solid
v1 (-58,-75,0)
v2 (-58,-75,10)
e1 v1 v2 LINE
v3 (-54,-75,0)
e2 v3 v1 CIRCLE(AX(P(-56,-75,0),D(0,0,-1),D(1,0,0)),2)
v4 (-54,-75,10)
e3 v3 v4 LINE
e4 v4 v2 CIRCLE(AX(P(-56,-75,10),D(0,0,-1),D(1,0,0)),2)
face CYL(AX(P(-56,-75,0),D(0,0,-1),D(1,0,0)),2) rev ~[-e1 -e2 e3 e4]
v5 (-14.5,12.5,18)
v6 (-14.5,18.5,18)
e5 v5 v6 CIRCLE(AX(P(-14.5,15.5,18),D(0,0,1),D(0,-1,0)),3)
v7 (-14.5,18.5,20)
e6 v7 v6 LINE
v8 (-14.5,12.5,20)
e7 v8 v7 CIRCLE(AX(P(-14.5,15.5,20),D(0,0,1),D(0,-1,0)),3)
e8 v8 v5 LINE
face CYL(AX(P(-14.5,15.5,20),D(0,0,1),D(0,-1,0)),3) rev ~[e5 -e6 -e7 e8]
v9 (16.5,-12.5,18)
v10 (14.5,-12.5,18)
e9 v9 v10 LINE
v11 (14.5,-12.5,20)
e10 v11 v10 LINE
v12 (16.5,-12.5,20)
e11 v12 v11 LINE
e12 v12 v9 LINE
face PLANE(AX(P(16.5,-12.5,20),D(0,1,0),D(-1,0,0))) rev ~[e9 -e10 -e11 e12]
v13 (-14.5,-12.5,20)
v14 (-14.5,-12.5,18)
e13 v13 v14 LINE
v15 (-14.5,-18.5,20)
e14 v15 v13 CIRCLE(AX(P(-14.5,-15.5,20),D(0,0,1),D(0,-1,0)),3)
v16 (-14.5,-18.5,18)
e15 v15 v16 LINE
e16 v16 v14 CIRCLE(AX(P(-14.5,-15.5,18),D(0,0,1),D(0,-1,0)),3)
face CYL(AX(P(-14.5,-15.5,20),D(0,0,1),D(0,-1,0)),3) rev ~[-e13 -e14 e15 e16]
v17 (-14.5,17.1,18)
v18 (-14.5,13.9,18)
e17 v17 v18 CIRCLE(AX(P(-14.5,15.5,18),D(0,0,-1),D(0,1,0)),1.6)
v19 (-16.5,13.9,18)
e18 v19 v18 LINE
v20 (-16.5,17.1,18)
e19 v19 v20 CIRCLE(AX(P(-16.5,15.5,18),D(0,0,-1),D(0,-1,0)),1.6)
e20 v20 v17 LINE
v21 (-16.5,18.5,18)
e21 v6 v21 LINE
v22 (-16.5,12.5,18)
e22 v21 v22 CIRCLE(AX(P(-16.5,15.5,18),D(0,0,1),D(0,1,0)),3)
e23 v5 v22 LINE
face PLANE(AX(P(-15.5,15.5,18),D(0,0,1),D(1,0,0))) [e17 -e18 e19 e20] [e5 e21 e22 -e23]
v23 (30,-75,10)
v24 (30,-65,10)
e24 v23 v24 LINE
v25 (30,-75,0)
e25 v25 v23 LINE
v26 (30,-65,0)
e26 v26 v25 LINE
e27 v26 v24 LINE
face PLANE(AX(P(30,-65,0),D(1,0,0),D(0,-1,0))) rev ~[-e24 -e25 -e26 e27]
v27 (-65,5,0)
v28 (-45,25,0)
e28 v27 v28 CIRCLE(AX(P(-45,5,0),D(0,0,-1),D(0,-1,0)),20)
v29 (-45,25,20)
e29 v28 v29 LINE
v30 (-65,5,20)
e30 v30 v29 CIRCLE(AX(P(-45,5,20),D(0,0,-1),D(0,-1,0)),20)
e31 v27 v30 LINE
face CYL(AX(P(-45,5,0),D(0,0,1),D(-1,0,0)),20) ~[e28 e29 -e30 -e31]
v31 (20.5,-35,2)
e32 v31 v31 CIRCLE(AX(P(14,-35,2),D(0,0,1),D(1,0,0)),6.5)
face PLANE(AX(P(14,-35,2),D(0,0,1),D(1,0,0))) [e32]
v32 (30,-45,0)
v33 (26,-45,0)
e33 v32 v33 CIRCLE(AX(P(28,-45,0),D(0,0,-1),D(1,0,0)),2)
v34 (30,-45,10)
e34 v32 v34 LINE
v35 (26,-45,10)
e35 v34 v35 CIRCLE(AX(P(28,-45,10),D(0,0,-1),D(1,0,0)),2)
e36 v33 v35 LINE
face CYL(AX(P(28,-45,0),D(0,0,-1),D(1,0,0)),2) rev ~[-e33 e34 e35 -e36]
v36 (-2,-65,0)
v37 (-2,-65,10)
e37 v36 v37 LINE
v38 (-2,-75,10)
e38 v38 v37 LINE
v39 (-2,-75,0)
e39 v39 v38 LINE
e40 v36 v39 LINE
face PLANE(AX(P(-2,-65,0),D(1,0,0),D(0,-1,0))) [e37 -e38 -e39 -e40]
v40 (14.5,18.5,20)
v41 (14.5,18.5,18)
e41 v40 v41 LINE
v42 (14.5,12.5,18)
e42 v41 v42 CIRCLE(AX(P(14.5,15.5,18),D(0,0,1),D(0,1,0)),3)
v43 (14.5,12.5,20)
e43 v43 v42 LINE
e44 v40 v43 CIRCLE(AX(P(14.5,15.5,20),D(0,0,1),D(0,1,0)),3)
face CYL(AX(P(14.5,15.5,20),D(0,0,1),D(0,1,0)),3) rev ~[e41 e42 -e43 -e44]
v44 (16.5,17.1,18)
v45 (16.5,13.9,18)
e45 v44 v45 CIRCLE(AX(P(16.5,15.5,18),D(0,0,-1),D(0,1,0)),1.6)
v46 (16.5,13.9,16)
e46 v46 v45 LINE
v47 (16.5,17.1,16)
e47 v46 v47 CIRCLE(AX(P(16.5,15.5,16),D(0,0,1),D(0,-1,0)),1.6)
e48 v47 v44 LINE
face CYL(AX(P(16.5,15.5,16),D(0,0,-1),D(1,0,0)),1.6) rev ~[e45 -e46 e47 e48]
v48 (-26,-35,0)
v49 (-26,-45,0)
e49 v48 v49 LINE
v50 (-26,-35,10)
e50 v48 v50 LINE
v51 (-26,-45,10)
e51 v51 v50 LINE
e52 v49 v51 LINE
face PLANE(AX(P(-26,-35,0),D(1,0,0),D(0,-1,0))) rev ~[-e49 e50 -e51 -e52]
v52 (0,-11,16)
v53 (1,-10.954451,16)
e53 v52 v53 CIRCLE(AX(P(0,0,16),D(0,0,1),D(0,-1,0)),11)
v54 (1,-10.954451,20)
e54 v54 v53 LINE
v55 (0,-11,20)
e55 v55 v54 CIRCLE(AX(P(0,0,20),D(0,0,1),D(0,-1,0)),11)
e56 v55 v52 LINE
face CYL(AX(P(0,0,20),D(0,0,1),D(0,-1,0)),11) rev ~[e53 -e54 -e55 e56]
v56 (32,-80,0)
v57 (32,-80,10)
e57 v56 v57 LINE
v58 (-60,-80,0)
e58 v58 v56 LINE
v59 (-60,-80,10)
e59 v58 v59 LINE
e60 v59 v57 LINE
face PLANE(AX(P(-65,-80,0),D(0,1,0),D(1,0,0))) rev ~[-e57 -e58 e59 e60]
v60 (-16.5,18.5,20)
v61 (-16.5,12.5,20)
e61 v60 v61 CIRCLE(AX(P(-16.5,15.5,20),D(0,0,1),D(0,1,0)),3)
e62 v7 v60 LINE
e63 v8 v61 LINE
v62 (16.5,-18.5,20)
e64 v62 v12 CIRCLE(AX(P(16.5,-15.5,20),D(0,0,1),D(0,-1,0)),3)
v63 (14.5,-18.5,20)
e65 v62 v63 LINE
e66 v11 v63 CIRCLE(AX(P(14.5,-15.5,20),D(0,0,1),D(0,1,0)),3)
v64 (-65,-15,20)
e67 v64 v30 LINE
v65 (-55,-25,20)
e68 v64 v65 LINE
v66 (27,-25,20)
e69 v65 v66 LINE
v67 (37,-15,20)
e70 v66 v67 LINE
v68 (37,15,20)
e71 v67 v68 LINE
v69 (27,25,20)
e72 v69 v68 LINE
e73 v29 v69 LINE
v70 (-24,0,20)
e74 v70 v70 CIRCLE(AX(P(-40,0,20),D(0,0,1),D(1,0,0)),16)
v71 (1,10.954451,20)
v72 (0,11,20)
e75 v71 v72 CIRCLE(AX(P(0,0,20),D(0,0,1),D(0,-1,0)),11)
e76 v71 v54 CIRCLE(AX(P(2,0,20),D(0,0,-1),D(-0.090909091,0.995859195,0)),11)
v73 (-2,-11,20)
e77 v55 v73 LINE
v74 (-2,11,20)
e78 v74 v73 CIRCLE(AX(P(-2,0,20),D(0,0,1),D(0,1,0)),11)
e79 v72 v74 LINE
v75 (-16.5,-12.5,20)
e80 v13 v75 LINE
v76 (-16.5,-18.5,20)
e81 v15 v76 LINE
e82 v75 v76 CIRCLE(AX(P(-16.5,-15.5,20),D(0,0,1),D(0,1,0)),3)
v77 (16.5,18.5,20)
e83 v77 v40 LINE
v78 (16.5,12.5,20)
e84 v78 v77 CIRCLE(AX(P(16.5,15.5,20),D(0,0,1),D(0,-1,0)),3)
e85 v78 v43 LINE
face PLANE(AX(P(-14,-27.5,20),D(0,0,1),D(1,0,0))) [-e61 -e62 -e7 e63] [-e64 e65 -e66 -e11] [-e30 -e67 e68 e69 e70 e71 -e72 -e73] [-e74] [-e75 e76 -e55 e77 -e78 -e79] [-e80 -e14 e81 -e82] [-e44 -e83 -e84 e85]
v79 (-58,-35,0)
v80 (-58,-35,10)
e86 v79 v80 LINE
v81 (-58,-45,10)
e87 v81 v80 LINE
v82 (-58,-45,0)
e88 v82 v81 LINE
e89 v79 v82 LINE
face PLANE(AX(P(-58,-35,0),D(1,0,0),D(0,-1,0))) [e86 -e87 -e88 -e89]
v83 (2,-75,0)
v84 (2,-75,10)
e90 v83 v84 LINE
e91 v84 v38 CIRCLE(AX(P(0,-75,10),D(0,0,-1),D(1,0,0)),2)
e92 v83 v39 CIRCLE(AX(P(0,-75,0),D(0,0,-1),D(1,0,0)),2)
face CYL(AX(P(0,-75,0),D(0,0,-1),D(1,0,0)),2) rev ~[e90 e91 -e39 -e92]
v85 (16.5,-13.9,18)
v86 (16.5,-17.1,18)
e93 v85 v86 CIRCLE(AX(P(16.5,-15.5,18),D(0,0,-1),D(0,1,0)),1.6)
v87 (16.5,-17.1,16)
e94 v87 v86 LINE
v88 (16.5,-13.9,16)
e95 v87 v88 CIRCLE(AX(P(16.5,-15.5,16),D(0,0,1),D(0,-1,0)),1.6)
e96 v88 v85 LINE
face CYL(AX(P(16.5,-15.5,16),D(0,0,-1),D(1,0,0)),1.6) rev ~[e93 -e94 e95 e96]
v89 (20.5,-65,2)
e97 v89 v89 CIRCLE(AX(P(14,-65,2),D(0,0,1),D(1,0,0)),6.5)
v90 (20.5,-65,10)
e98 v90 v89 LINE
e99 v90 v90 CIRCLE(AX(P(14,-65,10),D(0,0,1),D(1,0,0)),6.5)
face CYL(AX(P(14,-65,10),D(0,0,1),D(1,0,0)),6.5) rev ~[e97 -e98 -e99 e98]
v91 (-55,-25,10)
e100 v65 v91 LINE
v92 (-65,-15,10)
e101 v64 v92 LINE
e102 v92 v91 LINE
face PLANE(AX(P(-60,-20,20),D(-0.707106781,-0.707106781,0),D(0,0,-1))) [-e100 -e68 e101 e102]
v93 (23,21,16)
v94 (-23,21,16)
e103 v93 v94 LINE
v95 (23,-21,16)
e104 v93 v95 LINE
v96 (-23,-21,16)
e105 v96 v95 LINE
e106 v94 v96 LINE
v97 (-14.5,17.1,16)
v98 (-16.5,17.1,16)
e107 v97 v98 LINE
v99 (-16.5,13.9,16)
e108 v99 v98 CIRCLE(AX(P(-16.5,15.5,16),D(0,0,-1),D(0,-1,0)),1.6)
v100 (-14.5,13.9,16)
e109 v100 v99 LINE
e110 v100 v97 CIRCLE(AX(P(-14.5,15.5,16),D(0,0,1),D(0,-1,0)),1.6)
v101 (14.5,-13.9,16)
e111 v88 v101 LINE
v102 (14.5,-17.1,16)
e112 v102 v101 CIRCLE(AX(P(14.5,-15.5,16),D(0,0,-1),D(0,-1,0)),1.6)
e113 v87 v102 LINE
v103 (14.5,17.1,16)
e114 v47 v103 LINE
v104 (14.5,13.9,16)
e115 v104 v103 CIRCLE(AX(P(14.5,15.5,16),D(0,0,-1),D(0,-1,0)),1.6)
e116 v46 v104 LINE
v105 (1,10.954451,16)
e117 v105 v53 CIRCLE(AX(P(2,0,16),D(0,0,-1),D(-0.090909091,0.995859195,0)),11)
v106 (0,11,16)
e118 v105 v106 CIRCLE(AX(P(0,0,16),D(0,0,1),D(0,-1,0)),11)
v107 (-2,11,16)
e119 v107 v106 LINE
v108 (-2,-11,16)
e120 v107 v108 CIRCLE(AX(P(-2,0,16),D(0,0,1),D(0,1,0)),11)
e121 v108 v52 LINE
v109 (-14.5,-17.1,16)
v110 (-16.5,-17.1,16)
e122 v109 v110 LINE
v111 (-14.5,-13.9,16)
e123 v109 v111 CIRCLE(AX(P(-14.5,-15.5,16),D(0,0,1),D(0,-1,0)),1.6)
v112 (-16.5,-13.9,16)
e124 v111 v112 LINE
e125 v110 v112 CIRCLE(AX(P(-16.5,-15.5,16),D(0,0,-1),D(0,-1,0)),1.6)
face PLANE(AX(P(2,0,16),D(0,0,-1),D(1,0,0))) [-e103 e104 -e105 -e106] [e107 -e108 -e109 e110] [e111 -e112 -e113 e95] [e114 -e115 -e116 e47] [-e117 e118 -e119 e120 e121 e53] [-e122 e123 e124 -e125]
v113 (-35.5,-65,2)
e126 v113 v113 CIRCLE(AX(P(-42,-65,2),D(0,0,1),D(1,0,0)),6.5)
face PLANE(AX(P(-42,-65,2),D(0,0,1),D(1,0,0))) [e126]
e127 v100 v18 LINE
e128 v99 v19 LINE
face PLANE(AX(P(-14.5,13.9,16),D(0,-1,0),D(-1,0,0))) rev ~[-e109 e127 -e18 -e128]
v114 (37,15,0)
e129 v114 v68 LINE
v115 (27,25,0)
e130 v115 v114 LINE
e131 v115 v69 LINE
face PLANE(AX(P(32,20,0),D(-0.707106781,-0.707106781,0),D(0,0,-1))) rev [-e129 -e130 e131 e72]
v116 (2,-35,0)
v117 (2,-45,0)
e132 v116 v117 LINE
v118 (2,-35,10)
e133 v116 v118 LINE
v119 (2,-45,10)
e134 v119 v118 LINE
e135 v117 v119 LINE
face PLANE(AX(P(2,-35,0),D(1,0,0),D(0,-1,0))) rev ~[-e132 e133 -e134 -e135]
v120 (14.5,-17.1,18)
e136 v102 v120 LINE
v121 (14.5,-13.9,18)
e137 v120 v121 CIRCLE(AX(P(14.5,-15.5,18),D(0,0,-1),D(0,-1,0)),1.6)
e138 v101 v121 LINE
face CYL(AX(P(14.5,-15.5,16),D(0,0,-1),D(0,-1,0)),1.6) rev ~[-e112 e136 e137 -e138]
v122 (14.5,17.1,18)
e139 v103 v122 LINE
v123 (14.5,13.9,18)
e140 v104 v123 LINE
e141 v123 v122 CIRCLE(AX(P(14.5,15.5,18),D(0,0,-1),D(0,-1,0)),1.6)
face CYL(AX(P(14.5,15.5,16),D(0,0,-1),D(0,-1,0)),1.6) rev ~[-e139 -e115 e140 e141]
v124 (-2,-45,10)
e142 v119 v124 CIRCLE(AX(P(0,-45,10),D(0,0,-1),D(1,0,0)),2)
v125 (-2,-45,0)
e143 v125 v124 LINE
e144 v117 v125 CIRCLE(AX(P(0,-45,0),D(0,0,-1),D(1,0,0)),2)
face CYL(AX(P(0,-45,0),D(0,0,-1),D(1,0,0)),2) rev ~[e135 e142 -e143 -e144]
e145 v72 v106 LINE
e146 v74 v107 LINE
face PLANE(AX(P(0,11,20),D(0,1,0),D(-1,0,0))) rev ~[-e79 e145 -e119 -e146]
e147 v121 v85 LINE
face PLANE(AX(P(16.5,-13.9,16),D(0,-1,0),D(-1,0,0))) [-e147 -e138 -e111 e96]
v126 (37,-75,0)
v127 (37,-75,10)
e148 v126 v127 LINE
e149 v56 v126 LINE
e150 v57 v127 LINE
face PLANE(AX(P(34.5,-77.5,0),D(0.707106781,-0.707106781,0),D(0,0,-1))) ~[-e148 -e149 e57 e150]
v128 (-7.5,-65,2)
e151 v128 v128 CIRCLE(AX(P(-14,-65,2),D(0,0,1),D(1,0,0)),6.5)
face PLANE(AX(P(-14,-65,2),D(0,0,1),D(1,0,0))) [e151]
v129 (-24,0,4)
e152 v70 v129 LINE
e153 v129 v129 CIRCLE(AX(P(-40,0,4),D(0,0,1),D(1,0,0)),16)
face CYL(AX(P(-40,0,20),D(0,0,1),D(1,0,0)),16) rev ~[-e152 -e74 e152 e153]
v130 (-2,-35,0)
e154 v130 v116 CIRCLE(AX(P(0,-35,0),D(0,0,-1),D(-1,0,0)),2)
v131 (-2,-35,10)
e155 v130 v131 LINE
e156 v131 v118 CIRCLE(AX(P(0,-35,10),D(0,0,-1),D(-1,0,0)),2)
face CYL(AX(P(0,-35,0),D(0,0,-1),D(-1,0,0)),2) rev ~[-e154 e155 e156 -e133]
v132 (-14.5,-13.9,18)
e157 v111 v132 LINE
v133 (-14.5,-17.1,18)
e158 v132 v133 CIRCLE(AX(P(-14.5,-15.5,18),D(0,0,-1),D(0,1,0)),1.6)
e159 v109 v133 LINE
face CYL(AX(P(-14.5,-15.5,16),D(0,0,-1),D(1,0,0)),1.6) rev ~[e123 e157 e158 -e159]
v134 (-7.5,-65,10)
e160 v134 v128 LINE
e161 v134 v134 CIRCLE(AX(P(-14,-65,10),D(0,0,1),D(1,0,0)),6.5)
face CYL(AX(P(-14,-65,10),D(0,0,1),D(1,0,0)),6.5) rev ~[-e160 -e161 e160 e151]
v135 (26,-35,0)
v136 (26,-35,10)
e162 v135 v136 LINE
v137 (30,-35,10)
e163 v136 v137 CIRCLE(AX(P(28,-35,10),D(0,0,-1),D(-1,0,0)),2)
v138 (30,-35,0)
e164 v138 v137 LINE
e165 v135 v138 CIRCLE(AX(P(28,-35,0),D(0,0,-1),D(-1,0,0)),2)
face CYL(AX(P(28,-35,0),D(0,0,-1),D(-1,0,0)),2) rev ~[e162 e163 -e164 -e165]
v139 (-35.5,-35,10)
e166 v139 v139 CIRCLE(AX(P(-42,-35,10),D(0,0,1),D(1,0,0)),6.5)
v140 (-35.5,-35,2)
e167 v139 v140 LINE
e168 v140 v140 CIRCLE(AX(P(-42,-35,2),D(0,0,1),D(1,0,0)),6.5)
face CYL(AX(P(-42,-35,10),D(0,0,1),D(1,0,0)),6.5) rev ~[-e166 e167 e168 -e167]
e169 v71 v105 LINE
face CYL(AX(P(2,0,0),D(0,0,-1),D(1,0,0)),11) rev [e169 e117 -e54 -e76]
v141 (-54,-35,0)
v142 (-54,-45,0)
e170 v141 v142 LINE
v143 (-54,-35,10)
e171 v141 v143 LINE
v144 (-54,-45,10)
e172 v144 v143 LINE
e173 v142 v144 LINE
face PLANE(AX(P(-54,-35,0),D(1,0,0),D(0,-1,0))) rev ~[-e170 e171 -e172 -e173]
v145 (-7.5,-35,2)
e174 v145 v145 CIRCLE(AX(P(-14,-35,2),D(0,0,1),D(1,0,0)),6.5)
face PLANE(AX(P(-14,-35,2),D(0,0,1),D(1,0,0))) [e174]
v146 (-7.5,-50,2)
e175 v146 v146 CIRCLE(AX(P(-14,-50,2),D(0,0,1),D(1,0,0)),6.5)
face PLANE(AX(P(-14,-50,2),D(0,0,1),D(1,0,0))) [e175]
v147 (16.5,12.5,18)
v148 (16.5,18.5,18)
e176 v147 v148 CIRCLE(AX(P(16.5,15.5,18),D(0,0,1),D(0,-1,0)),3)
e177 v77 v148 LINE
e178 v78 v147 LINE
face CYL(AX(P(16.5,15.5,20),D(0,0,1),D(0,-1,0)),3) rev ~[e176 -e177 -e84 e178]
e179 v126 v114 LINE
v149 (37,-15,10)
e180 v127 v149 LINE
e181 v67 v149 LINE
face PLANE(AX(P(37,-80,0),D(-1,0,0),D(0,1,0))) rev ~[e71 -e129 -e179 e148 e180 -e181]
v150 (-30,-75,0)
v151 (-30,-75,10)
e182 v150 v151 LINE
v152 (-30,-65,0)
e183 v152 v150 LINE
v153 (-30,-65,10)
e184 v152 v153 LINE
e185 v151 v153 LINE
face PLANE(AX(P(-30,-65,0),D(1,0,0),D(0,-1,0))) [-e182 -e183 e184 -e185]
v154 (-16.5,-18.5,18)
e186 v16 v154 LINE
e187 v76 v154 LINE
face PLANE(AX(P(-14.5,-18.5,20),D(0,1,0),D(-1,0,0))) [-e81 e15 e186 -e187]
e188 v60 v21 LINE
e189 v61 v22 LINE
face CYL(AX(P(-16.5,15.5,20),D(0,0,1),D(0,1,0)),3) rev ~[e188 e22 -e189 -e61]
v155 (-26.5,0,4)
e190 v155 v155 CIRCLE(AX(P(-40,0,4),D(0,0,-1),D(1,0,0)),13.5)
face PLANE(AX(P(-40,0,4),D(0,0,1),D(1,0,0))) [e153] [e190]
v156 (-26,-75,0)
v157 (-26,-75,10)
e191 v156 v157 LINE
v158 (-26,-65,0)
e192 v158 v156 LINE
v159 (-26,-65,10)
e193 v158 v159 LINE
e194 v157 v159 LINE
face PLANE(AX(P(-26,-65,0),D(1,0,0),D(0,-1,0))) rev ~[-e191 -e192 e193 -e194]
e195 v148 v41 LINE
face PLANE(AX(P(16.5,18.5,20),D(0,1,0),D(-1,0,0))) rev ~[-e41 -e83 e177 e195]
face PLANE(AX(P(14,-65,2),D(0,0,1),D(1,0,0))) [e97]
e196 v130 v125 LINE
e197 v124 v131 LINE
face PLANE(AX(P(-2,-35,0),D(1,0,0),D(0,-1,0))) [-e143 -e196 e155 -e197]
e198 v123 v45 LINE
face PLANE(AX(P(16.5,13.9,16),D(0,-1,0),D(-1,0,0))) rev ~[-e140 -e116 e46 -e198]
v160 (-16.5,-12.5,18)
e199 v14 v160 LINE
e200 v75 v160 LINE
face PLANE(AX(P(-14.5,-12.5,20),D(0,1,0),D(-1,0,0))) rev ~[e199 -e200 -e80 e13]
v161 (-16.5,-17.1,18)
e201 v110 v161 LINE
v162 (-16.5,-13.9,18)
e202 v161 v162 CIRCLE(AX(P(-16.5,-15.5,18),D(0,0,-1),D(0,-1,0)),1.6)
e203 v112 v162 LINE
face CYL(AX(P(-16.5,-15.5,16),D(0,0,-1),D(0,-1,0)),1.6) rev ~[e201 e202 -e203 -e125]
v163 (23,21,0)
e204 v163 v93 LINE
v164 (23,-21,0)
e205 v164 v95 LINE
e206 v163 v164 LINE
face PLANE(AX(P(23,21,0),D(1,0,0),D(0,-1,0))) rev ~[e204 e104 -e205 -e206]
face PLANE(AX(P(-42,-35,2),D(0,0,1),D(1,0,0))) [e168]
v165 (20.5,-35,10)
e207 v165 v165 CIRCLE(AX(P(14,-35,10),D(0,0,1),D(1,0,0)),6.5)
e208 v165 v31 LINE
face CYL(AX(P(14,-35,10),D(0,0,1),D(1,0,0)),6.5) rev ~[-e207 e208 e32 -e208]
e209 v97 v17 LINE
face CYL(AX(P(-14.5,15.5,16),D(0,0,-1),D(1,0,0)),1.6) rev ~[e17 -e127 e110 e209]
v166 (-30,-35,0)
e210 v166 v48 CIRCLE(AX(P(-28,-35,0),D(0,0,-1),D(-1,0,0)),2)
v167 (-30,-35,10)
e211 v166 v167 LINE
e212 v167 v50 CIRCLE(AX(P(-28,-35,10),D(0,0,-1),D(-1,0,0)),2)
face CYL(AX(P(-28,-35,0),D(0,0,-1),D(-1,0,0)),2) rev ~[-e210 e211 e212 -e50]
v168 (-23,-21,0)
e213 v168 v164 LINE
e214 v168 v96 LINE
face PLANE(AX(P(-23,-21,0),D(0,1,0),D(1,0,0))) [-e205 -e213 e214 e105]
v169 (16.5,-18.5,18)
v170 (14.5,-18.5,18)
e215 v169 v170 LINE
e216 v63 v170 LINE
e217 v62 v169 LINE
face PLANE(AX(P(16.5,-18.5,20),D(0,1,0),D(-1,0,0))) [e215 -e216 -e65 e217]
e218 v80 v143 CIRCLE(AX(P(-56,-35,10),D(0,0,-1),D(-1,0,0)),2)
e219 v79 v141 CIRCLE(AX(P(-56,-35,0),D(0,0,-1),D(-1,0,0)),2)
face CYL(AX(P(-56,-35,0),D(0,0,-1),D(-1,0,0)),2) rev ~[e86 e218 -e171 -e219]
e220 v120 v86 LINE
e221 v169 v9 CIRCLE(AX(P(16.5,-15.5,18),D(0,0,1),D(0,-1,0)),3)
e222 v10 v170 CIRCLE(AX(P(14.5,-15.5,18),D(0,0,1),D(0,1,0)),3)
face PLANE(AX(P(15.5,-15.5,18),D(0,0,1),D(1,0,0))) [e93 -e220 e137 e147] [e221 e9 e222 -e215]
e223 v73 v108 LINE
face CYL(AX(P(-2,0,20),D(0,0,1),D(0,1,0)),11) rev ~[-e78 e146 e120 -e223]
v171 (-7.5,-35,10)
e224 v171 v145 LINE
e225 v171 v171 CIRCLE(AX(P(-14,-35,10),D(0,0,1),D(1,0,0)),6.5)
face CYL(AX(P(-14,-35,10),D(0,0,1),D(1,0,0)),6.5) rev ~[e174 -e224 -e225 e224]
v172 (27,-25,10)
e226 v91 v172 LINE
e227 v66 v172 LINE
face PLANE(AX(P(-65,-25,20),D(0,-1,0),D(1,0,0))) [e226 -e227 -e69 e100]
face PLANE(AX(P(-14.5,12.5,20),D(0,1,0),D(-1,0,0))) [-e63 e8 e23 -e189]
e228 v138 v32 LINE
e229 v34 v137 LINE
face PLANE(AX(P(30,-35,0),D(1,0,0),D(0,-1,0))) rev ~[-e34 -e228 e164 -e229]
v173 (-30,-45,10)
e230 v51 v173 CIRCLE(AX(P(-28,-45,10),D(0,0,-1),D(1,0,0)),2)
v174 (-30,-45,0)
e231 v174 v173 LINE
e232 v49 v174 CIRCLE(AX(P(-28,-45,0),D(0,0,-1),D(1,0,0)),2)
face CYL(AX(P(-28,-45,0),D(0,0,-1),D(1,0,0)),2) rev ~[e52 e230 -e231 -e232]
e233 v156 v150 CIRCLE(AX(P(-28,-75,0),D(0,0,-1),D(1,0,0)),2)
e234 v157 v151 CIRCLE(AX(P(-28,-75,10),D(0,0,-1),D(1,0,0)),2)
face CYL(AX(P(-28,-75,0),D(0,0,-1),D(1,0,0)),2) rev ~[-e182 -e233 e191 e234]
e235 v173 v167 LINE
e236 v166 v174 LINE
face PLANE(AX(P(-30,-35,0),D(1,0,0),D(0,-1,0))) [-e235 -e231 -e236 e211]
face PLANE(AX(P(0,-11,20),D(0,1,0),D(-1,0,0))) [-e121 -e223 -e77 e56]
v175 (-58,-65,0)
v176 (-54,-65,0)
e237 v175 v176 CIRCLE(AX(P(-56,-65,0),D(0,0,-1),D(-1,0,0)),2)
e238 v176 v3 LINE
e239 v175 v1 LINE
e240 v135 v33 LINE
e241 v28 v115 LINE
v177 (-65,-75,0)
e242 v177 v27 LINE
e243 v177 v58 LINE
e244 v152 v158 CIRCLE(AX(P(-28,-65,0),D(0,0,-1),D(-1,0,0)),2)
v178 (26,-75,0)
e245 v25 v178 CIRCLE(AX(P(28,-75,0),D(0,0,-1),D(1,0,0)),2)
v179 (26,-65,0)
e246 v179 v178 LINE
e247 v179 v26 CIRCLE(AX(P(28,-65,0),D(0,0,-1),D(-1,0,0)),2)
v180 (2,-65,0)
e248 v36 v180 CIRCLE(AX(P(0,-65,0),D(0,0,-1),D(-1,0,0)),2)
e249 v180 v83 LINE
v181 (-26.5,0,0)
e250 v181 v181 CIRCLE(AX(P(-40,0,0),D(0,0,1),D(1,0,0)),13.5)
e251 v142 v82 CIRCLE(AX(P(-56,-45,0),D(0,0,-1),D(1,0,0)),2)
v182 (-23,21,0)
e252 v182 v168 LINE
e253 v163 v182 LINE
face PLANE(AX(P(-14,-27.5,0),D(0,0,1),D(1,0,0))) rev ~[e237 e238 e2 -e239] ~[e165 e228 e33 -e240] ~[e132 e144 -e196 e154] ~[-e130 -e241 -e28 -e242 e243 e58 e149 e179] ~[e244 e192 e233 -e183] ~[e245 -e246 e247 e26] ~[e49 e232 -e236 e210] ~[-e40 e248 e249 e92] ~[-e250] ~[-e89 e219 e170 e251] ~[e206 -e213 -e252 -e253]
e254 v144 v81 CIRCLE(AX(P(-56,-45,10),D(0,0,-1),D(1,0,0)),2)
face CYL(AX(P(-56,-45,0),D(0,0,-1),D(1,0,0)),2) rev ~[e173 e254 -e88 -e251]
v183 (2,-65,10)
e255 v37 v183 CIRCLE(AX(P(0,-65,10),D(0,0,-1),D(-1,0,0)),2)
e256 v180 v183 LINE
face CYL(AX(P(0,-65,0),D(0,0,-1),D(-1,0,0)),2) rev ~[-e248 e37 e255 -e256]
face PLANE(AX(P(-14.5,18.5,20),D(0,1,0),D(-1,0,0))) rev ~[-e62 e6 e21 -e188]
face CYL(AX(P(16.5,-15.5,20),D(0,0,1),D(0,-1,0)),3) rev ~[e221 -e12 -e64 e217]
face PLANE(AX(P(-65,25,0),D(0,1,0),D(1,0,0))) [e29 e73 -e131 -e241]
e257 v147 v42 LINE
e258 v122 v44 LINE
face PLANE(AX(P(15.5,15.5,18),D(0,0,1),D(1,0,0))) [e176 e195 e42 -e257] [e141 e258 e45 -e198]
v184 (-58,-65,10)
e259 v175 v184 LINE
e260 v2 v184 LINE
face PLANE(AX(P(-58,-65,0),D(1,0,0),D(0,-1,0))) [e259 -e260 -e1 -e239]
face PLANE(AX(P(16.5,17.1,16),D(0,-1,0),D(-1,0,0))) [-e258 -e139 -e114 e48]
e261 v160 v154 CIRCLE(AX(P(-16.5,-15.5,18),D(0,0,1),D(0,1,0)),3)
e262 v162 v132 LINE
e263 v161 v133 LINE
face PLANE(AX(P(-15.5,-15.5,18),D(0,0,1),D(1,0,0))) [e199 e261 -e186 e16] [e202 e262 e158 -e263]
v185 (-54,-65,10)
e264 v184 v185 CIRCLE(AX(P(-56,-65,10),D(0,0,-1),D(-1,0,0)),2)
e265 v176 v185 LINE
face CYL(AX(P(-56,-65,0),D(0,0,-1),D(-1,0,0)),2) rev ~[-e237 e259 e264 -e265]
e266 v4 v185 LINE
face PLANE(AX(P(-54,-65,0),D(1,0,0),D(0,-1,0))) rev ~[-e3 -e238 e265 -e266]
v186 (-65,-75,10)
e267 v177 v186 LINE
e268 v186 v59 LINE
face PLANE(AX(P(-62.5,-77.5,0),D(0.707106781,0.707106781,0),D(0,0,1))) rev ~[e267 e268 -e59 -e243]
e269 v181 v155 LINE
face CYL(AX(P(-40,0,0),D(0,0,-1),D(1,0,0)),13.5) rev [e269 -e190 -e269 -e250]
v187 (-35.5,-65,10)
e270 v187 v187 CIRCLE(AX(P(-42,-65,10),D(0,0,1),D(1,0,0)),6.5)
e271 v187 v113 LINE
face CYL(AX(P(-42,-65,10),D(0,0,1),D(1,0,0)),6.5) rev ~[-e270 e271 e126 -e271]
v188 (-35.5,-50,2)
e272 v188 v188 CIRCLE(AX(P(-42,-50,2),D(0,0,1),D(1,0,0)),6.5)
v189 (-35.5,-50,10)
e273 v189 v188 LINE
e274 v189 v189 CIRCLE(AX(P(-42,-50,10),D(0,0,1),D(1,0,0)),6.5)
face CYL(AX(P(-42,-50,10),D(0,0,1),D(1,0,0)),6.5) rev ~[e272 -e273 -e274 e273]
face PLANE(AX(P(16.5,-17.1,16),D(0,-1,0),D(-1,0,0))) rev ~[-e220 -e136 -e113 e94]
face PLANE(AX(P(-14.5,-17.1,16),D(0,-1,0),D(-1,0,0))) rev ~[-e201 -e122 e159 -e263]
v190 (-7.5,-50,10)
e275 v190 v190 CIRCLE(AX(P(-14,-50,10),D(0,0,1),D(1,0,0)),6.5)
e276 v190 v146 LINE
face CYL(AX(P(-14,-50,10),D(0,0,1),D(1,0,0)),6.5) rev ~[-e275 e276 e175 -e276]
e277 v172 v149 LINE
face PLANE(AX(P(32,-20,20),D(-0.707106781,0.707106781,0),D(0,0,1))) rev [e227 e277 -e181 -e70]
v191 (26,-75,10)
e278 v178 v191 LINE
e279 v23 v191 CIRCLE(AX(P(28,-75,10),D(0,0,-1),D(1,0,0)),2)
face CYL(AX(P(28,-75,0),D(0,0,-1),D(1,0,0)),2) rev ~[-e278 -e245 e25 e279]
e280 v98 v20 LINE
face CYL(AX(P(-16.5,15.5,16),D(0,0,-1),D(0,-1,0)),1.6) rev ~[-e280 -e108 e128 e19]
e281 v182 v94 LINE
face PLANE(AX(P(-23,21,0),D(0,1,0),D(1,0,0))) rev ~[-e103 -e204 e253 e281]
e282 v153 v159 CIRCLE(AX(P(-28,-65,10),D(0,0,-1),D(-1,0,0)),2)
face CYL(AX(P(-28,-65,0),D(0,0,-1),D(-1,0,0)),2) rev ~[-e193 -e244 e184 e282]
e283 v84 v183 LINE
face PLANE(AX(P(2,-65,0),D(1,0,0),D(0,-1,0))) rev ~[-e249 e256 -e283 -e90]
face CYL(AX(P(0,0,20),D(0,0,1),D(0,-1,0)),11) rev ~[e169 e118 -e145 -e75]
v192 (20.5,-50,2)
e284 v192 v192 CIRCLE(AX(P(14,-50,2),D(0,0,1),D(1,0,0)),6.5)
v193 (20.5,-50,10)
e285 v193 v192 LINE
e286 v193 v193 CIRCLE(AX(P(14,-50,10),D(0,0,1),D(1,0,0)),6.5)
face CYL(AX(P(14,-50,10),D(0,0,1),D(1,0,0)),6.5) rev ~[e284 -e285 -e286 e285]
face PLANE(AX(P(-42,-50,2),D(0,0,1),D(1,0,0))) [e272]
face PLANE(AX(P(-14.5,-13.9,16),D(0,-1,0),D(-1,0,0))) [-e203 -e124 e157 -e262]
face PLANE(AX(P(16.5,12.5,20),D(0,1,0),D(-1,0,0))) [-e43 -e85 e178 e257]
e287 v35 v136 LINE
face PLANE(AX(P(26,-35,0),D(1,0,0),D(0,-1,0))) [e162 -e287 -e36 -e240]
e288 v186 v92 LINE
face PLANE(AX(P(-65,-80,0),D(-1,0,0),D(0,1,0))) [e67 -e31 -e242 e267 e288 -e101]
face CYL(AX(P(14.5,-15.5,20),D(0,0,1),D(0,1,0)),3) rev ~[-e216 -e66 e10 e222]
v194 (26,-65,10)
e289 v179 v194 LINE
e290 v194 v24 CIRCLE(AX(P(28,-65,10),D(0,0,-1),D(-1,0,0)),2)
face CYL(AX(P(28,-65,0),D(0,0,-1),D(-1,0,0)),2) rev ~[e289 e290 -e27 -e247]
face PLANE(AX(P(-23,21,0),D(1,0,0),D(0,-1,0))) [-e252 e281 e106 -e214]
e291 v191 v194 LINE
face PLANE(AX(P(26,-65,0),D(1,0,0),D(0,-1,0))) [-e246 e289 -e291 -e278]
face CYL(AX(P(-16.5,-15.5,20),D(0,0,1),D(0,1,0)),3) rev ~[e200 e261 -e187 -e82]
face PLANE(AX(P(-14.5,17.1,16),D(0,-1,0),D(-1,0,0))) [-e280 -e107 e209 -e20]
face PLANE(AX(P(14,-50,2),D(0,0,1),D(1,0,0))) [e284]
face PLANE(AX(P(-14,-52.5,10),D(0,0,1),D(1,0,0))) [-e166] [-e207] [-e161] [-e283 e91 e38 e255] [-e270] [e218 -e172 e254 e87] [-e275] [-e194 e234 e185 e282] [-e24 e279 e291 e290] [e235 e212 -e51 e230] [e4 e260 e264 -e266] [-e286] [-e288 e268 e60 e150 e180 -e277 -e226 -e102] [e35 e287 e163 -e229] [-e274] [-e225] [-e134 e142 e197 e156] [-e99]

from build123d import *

# Parameters (mm, degrees)
SKETCH071_W                        = 102
SKETCH071_H                        = 105
SKETCH071_R                        = 11
SKETCH071_R_2                      = 13.5
PAD028_DEPTH                       = 20
SKETCH072_W                        = 102
SKETCH072_H                        = 55
POCKET037_DEPTH                    = 10
SKETCH073_W                        = 42
SKETCH073_H                        = 42
POCKET038_DEPTH                    = 16
POCKET039_DEPTH                    = 315.493809
POCKET039_LINEARPATTERN002_2_DEPTH = 315.493809
POCKET039_LINEARPATTERN002_3_DEPTH = 315.493809
POCKET039_LINEARPATTERN002_4_DEPTH = 315.493809
LINEARPATTERN003_COUNT             = 2
LINEARPATTERN003_PITCH             = 30
SKETCH075_R                        = 1.6
POCKET040_DEPTH                    = 4.001
CHAMFER006_SIZE                    = 5
CHAMFER007_SIZE                    = 10
FILLET004_R                        = 20
SKETCH076_R                        = 16
POCKET041_DEPTH                    = 16
SKETCH077_R                        = 3
POCKET042_DEPTH                    = 2
POCKET043_DEPTH                    = 4.001
SKETCH079_W                        = 4
SKETCH079_H                        = 42
POCKET044_DEPTH                    = 16
POCKET045_DEPTH                    = 2
POCKET046_DEPTH                    = 20.001
SKETCH082_R                        = 6.5
POCKET047_DEPTH                    = 8
SKETCH082_LINEARPATTERN004_2_R     = 6.5
POCKET047_LINEARPATTERN004_2_DEPTH = 8
SKETCH082_LINEARPATTERN004_3_R     = 6.5
POCKET047_LINEARPATTERN004_3_DEPTH = 8
LINEARPATTERN005_COUNT             = 3
LINEARPATTERN005_PITCH             = 15


with BuildPart() as part:
    # Sketch071 → Pad028 (new body)
    with BuildSketch(Plane.XY):
        with Locations((-14, -27.5)):
            Rectangle(SKETCH071_W, SKETCH071_H)
        with Locations((2, 0)):
            Circle(SKETCH071_R, mode=Mode.SUBTRACT)
        with Locations((-40, 0)):
            Circle(SKETCH071_R_2, mode=Mode.SUBTRACT)
    extrude(amount=PAD028_DEPTH)

    # Sketch072 (on Face8 of Pad028) → Pocket037 (cut)
    with BuildSketch(Plane.XY.offset(20)):
        with Locations((-14, -52.5)):
            Rectangle(SKETCH072_W, SKETCH072_H)
    extrude(amount=-POCKET037_DEPTH, mode=Mode.SUBTRACT)

    # Sketch073 (on Face2 of Pocket037) → Pocket038 (cut)
    with BuildSketch(Plane(origin=(0, 0, 0), x_dir=(1, 0, 0), z_dir=(0, 0, -1))):
        with Locations((2, 0)):
            Rectangle(SKETCH073_W, SKETCH073_H)
    extrude(amount=-POCKET038_DEPTH, mode=Mode.SUBTRACT)

    # Sketch074 (on Face2 of Pocket038) → Pocket039 (cut, through all)
    with BuildSketch(Plane(origin=(0, 0, 0), x_dir=(1, 0, 0), z_dir=(0, 0, -1))):
        with BuildLine():
            ThreePointArc((26, 35), (28, 33), (30, 35))
            Line((30, 35), (30, 45))
            ThreePointArc((30, 45), (28, 47), (26, 45))
            Line((26, 35), (26, 45))
        make_face()
    pocket039 = extrude(amount=-POCKET039_DEPTH, mode=Mode.SUBTRACT)

    # Sketch074 LinearPattern002 2 → Pocket039 LinearPattern002 2 (cut, through all)
    with BuildSketch(Plane(origin=(-28, 0, 0), x_dir=(1, 0, 0), z_dir=(0, 0, -1))):
        with BuildLine():
            ThreePointArc((26, 35), (28, 33), (30, 35))
            Line((30, 35), (30, 45))
            ThreePointArc((30, 45), (28, 47), (26, 45))
            Line((26, 35), (26, 45))
        make_face()
    pocket039_linearpattern002_2 = extrude(amount=-POCKET039_LINEARPATTERN002_2_DEPTH, mode=Mode.SUBTRACT)

    # Sketch074 LinearPattern002 3 → Pocket039 LinearPattern002 3 (cut, through all)
    with BuildSketch(Plane(origin=(-56, 0, 0), x_dir=(1, 0, 0), z_dir=(0, 0, -1))):
        with BuildLine():
            ThreePointArc((26, 35), (28, 33), (30, 35))
            Line((30, 35), (30, 45))
            ThreePointArc((30, 45), (28, 47), (26, 45))
            Line((26, 35), (26, 45))
        make_face()
    pocket039_linearpattern002_3 = extrude(amount=-POCKET039_LINEARPATTERN002_3_DEPTH, mode=Mode.SUBTRACT)

    # Sketch074 LinearPattern002 4 → Pocket039 LinearPattern002 4 (cut, through all)
    with BuildSketch(Plane(origin=(-84, 0, 0), x_dir=(1, 0, 0), z_dir=(0, 0, -1))):
        with BuildLine():
            ThreePointArc((26, 35), (28, 33), (30, 35))
            Line((30, 35), (30, 45))
            ThreePointArc((30, 45), (28, 47), (26, 45))
            Line((26, 35), (26, 45))
        make_face()
    pocket039_linearpattern002_4 = extrude(amount=-POCKET039_LINEARPATTERN002_4_DEPTH, mode=Mode.SUBTRACT)

    # LinearPattern003: Pocket039, Pocket039 LinearPattern002 2, Pocket039 LinearPattern002 3, Pocket039 LinearPattern002 4 ×2
    with Locations(*[(0, -i * LINEARPATTERN003_PITCH, 0) for i in range(1, LINEARPATTERN003_COUNT)]):
        add(pocket039, mode=Mode.SUBTRACT)
        add(pocket039_linearpattern002_2, mode=Mode.SUBTRACT)
        add(pocket039_linearpattern002_3, mode=Mode.SUBTRACT)
        add(pocket039_linearpattern002_4, mode=Mode.SUBTRACT)

    # Sketch075 (on Face46 of MultiTransform002) → Pocket040 (cut, through all)
    with BuildSketch(Plane(origin=(0, 0, 16), x_dir=(1, 0, 0), z_dir=(0, 0, -1))):
        with Locations((16.5, 15.5)):
            Circle(SKETCH075_R)
        with Locations((16.5, -15.5)):
            Circle(SKETCH075_R)
        with Locations((-14.5, -15.5)):
            Circle(SKETCH075_R)
        with Locations((-14.5, 15.5)):
            Circle(SKETCH075_R)
    extrude(amount=-POCKET040_DEPTH, mode=Mode.SUBTRACT)

    # Chamfer006
    chamfer006_edges = [part.edges().sort_by_distance(p)[0] for p in [
        (-65, -80, 5),
        (37, -80, 5),
    ]]
    chamfer(chamfer006_edges, length=CHAMFER006_SIZE)

    # Chamfer007
    chamfer007_edges = [part.edges().sort_by_distance(p)[0] for p in [
        (37, -25, 15),
        (37, 25, 10),
        (-65, -25, 15),
    ]]
    chamfer(chamfer007_edges, length=CHAMFER007_SIZE)

    # Fillet004
    fillet004_edges = [part.edges().sort_by_distance(p)[0] for p in [
        (-65, 25, 10),
    ]]
    fillet(fillet004_edges, radius=FILLET004_R)

    # Sketch076 (on Face47 of Fillet004) → Pocket041 (cut)
    with BuildSketch(Plane.XY.offset(20)):
        with Locations((-40, 0)):
            Circle(SKETCH076_R)
    extrude(amount=-POCKET041_DEPTH, mode=Mode.SUBTRACT)

    # Sketch077 (on Face47 of Pocket041) → Pocket042 (cut)
    with BuildSketch(Plane.XY.offset(20)):
        with Locations((16.5, 15.5)):
            Circle(SKETCH077_R)
        with Locations((-14.5, 15.5)):
            Circle(SKETCH077_R)
        with Locations((-14.5, -15.5)):
            Circle(SKETCH077_R)
        with Locations((16.5, -15.5)):
            Circle(SKETCH077_R)
    extrude(amount=-POCKET042_DEPTH, mode=Mode.SUBTRACT)

    # Sketch078 (on Face52 of Pocket042) → Pocket043 (cut, through all)
    with BuildSketch(Plane(origin=(0, 0, 16), x_dir=(1, 0, 0), z_dir=(0, 0, -1))):
        with BuildLine():
            ThreePointArc((-14.5, -17.1), (-12.9, -15.5), (-14.5, -13.9))
            Line((-14.5, -13.9), (-16.5, -13.9))
            ThreePointArc((-16.5, -13.9), (-18.1, -15.5), (-16.5, -17.1))
            Line((-14.5, -17.1), (-16.5, -17.1))
        make_face()
        with BuildLine():
            ThreePointArc((-14.5, 13.9), (-12.9, 15.5), (-14.5, 17.1))
            Line((-14.5, 17.1), (-16.5, 17.1))
            ThreePointArc((-16.5, 17.1), (-18.1, 15.5), (-16.5, 13.9))
            Line((-14.5, 13.9), (-16.5, 13.9))
        make_face()
        with BuildLine():
            ThreePointArc((16.5, 13.9), (18.1, 15.5), (16.5, 17.1))
            Line((16.5, 17.1), (14.5, 17.1))
            ThreePointArc((14.5, 17.1), (12.9, 15.5), (14.5, 13.9))
            Line((16.5, 13.9), (14.5, 13.9))
        make_face()
        with BuildLine():
            ThreePointArc((16.5, -17.1), (18.1, -15.5), (16.5, -13.9))
            Line((16.5, -13.9), (14.5, -13.9))
            ThreePointArc((14.5, -13.9), (12.9, -15.5), (14.5, -17.1))
            Line((16.5, -17.1), (14.5, -17.1))
        make_face()
    extrude(amount=-POCKET043_DEPTH, mode=Mode.SUBTRACT)

    # Sketch079 (on Face1 of Pocket043) → Pocket044 (cut)
    with BuildSketch(Plane(origin=(0, 0, 0), x_dir=(1, 0, 0), z_dir=(0, 0, -1))):
        with Locations((-21, 0)):
            Rectangle(SKETCH079_W, SKETCH079_H)
    extrude(amount=-POCKET044_DEPTH, mode=Mode.SUBTRACT)

    # Sketch080 (on Face49 of Pocket044) → Pocket045 (cut)
    with BuildSketch(Plane.XY.offset(20)):
        with BuildLine():
            ThreePointArc((-14.5, 12.5), (-11.5, 15.5), (-14.5, 18.5))
            Line((-14.5, 18.5), (-16.5, 18.5))
            ThreePointArc((-16.5, 18.5), (-19.5, 15.5), (-16.5, 12.5))
            Line((-14.5, 12.5), (-16.5, 12.5))
        make_face()
        with BuildLine():
            ThreePointArc((16.5, 12.5), (19.5, 15.5), (16.5, 18.5))
            Line((16.5, 18.5), (14.5, 18.5))
            ThreePointArc((14.5, 18.5), (11.5, 15.5), (14.5, 12.5))
            Line((16.5, 12.5), (14.5, 12.5))
        make_face()
        with BuildLine():
            ThreePointArc((-14.5, -18.5), (-11.5, -15.5), (-14.5, -12.5))
            Line((-14.5, -12.5), (-16.5, -12.5))
            ThreePointArc((-16.5, -12.5), (-19.5, -15.5), (-16.5, -18.5))
            Line((-14.5, -18.5), (-16.5, -18.5))
        make_face()
        with BuildLine():
            ThreePointArc((16.5, -18.5), (19.5, -15.5), (16.5, -12.5))
            Line((16.5, -12.5), (14.5, -12.5))
            ThreePointArc((14.5, -12.5), (11.5, -15.5), (14.5, -18.5))
            Line((16.5, -18.5), (14.5, -18.5))
        make_face()
    extrude(amount=-POCKET045_DEPTH, mode=Mode.SUBTRACT)

    # Sketch081 (on Face49 of Pocket045) → Pocket046 (cut, through all)
    with BuildSketch(Plane.XY.offset(20)):
        with BuildLine():
            ThreePointArc((0, -11), (11, 0), (0, 11))
            Line((0, 11), (-2, 11))
            ThreePointArc((-2, 11), (-13, 0), (-2, -11))
            Line((0, -11), (-2, -11))
        make_face()
    extrude(amount=-POCKET046_DEPTH, mode=Mode.SUBTRACT)

    # Sketch082 (on Face51 of Pocket046) → Pocket047 (cut)
    with BuildSketch(Plane.XY.offset(10)):
        with Locations((14, -65)):
            Circle(SKETCH082_R)
    pocket047 = extrude(amount=-POCKET047_DEPTH, mode=Mode.SUBTRACT)

    # Sketch082 LinearPattern004 2 → Pocket047 LinearPattern004 2 (cut)
    with BuildSketch(Plane(origin=(-28, 0, 10), x_dir=(1, 0, 0), z_dir=(0, 0, 1))):
        with Locations((14, -65)):
            Circle(SKETCH082_LINEARPATTERN004_2_R)
    pocket047_linearpattern004_2 = extrude(amount=-POCKET047_LINEARPATTERN004_2_DEPTH, mode=Mode.SUBTRACT)

    # Sketch082 LinearPattern004 3 → Pocket047 LinearPattern004 3 (cut)
    with BuildSketch(Plane(origin=(-56, 0, 10), x_dir=(1, 0, 0), z_dir=(0, 0, 1))):
        with Locations((14, -65)):
            Circle(SKETCH082_LINEARPATTERN004_3_R)
    pocket047_linearpattern004_3 = extrude(amount=-POCKET047_LINEARPATTERN004_3_DEPTH, mode=Mode.SUBTRACT)

    # LinearPattern005: Pocket047, Pocket047 LinearPattern004 2, Pocket047 LinearPattern004 3 ×3
    with Locations(*[(0, i * LINEARPATTERN005_PITCH, 0) for i in range(1, LINEARPATTERN005_COUNT)]):
        add(pocket047, mode=Mode.SUBTRACT)
        add(pocket047_linearpattern004_2, mode=Mode.SUBTRACT)
        add(pocket047_linearpattern004_3, mode=Mode.SUBTRACT)


solid = part.part
